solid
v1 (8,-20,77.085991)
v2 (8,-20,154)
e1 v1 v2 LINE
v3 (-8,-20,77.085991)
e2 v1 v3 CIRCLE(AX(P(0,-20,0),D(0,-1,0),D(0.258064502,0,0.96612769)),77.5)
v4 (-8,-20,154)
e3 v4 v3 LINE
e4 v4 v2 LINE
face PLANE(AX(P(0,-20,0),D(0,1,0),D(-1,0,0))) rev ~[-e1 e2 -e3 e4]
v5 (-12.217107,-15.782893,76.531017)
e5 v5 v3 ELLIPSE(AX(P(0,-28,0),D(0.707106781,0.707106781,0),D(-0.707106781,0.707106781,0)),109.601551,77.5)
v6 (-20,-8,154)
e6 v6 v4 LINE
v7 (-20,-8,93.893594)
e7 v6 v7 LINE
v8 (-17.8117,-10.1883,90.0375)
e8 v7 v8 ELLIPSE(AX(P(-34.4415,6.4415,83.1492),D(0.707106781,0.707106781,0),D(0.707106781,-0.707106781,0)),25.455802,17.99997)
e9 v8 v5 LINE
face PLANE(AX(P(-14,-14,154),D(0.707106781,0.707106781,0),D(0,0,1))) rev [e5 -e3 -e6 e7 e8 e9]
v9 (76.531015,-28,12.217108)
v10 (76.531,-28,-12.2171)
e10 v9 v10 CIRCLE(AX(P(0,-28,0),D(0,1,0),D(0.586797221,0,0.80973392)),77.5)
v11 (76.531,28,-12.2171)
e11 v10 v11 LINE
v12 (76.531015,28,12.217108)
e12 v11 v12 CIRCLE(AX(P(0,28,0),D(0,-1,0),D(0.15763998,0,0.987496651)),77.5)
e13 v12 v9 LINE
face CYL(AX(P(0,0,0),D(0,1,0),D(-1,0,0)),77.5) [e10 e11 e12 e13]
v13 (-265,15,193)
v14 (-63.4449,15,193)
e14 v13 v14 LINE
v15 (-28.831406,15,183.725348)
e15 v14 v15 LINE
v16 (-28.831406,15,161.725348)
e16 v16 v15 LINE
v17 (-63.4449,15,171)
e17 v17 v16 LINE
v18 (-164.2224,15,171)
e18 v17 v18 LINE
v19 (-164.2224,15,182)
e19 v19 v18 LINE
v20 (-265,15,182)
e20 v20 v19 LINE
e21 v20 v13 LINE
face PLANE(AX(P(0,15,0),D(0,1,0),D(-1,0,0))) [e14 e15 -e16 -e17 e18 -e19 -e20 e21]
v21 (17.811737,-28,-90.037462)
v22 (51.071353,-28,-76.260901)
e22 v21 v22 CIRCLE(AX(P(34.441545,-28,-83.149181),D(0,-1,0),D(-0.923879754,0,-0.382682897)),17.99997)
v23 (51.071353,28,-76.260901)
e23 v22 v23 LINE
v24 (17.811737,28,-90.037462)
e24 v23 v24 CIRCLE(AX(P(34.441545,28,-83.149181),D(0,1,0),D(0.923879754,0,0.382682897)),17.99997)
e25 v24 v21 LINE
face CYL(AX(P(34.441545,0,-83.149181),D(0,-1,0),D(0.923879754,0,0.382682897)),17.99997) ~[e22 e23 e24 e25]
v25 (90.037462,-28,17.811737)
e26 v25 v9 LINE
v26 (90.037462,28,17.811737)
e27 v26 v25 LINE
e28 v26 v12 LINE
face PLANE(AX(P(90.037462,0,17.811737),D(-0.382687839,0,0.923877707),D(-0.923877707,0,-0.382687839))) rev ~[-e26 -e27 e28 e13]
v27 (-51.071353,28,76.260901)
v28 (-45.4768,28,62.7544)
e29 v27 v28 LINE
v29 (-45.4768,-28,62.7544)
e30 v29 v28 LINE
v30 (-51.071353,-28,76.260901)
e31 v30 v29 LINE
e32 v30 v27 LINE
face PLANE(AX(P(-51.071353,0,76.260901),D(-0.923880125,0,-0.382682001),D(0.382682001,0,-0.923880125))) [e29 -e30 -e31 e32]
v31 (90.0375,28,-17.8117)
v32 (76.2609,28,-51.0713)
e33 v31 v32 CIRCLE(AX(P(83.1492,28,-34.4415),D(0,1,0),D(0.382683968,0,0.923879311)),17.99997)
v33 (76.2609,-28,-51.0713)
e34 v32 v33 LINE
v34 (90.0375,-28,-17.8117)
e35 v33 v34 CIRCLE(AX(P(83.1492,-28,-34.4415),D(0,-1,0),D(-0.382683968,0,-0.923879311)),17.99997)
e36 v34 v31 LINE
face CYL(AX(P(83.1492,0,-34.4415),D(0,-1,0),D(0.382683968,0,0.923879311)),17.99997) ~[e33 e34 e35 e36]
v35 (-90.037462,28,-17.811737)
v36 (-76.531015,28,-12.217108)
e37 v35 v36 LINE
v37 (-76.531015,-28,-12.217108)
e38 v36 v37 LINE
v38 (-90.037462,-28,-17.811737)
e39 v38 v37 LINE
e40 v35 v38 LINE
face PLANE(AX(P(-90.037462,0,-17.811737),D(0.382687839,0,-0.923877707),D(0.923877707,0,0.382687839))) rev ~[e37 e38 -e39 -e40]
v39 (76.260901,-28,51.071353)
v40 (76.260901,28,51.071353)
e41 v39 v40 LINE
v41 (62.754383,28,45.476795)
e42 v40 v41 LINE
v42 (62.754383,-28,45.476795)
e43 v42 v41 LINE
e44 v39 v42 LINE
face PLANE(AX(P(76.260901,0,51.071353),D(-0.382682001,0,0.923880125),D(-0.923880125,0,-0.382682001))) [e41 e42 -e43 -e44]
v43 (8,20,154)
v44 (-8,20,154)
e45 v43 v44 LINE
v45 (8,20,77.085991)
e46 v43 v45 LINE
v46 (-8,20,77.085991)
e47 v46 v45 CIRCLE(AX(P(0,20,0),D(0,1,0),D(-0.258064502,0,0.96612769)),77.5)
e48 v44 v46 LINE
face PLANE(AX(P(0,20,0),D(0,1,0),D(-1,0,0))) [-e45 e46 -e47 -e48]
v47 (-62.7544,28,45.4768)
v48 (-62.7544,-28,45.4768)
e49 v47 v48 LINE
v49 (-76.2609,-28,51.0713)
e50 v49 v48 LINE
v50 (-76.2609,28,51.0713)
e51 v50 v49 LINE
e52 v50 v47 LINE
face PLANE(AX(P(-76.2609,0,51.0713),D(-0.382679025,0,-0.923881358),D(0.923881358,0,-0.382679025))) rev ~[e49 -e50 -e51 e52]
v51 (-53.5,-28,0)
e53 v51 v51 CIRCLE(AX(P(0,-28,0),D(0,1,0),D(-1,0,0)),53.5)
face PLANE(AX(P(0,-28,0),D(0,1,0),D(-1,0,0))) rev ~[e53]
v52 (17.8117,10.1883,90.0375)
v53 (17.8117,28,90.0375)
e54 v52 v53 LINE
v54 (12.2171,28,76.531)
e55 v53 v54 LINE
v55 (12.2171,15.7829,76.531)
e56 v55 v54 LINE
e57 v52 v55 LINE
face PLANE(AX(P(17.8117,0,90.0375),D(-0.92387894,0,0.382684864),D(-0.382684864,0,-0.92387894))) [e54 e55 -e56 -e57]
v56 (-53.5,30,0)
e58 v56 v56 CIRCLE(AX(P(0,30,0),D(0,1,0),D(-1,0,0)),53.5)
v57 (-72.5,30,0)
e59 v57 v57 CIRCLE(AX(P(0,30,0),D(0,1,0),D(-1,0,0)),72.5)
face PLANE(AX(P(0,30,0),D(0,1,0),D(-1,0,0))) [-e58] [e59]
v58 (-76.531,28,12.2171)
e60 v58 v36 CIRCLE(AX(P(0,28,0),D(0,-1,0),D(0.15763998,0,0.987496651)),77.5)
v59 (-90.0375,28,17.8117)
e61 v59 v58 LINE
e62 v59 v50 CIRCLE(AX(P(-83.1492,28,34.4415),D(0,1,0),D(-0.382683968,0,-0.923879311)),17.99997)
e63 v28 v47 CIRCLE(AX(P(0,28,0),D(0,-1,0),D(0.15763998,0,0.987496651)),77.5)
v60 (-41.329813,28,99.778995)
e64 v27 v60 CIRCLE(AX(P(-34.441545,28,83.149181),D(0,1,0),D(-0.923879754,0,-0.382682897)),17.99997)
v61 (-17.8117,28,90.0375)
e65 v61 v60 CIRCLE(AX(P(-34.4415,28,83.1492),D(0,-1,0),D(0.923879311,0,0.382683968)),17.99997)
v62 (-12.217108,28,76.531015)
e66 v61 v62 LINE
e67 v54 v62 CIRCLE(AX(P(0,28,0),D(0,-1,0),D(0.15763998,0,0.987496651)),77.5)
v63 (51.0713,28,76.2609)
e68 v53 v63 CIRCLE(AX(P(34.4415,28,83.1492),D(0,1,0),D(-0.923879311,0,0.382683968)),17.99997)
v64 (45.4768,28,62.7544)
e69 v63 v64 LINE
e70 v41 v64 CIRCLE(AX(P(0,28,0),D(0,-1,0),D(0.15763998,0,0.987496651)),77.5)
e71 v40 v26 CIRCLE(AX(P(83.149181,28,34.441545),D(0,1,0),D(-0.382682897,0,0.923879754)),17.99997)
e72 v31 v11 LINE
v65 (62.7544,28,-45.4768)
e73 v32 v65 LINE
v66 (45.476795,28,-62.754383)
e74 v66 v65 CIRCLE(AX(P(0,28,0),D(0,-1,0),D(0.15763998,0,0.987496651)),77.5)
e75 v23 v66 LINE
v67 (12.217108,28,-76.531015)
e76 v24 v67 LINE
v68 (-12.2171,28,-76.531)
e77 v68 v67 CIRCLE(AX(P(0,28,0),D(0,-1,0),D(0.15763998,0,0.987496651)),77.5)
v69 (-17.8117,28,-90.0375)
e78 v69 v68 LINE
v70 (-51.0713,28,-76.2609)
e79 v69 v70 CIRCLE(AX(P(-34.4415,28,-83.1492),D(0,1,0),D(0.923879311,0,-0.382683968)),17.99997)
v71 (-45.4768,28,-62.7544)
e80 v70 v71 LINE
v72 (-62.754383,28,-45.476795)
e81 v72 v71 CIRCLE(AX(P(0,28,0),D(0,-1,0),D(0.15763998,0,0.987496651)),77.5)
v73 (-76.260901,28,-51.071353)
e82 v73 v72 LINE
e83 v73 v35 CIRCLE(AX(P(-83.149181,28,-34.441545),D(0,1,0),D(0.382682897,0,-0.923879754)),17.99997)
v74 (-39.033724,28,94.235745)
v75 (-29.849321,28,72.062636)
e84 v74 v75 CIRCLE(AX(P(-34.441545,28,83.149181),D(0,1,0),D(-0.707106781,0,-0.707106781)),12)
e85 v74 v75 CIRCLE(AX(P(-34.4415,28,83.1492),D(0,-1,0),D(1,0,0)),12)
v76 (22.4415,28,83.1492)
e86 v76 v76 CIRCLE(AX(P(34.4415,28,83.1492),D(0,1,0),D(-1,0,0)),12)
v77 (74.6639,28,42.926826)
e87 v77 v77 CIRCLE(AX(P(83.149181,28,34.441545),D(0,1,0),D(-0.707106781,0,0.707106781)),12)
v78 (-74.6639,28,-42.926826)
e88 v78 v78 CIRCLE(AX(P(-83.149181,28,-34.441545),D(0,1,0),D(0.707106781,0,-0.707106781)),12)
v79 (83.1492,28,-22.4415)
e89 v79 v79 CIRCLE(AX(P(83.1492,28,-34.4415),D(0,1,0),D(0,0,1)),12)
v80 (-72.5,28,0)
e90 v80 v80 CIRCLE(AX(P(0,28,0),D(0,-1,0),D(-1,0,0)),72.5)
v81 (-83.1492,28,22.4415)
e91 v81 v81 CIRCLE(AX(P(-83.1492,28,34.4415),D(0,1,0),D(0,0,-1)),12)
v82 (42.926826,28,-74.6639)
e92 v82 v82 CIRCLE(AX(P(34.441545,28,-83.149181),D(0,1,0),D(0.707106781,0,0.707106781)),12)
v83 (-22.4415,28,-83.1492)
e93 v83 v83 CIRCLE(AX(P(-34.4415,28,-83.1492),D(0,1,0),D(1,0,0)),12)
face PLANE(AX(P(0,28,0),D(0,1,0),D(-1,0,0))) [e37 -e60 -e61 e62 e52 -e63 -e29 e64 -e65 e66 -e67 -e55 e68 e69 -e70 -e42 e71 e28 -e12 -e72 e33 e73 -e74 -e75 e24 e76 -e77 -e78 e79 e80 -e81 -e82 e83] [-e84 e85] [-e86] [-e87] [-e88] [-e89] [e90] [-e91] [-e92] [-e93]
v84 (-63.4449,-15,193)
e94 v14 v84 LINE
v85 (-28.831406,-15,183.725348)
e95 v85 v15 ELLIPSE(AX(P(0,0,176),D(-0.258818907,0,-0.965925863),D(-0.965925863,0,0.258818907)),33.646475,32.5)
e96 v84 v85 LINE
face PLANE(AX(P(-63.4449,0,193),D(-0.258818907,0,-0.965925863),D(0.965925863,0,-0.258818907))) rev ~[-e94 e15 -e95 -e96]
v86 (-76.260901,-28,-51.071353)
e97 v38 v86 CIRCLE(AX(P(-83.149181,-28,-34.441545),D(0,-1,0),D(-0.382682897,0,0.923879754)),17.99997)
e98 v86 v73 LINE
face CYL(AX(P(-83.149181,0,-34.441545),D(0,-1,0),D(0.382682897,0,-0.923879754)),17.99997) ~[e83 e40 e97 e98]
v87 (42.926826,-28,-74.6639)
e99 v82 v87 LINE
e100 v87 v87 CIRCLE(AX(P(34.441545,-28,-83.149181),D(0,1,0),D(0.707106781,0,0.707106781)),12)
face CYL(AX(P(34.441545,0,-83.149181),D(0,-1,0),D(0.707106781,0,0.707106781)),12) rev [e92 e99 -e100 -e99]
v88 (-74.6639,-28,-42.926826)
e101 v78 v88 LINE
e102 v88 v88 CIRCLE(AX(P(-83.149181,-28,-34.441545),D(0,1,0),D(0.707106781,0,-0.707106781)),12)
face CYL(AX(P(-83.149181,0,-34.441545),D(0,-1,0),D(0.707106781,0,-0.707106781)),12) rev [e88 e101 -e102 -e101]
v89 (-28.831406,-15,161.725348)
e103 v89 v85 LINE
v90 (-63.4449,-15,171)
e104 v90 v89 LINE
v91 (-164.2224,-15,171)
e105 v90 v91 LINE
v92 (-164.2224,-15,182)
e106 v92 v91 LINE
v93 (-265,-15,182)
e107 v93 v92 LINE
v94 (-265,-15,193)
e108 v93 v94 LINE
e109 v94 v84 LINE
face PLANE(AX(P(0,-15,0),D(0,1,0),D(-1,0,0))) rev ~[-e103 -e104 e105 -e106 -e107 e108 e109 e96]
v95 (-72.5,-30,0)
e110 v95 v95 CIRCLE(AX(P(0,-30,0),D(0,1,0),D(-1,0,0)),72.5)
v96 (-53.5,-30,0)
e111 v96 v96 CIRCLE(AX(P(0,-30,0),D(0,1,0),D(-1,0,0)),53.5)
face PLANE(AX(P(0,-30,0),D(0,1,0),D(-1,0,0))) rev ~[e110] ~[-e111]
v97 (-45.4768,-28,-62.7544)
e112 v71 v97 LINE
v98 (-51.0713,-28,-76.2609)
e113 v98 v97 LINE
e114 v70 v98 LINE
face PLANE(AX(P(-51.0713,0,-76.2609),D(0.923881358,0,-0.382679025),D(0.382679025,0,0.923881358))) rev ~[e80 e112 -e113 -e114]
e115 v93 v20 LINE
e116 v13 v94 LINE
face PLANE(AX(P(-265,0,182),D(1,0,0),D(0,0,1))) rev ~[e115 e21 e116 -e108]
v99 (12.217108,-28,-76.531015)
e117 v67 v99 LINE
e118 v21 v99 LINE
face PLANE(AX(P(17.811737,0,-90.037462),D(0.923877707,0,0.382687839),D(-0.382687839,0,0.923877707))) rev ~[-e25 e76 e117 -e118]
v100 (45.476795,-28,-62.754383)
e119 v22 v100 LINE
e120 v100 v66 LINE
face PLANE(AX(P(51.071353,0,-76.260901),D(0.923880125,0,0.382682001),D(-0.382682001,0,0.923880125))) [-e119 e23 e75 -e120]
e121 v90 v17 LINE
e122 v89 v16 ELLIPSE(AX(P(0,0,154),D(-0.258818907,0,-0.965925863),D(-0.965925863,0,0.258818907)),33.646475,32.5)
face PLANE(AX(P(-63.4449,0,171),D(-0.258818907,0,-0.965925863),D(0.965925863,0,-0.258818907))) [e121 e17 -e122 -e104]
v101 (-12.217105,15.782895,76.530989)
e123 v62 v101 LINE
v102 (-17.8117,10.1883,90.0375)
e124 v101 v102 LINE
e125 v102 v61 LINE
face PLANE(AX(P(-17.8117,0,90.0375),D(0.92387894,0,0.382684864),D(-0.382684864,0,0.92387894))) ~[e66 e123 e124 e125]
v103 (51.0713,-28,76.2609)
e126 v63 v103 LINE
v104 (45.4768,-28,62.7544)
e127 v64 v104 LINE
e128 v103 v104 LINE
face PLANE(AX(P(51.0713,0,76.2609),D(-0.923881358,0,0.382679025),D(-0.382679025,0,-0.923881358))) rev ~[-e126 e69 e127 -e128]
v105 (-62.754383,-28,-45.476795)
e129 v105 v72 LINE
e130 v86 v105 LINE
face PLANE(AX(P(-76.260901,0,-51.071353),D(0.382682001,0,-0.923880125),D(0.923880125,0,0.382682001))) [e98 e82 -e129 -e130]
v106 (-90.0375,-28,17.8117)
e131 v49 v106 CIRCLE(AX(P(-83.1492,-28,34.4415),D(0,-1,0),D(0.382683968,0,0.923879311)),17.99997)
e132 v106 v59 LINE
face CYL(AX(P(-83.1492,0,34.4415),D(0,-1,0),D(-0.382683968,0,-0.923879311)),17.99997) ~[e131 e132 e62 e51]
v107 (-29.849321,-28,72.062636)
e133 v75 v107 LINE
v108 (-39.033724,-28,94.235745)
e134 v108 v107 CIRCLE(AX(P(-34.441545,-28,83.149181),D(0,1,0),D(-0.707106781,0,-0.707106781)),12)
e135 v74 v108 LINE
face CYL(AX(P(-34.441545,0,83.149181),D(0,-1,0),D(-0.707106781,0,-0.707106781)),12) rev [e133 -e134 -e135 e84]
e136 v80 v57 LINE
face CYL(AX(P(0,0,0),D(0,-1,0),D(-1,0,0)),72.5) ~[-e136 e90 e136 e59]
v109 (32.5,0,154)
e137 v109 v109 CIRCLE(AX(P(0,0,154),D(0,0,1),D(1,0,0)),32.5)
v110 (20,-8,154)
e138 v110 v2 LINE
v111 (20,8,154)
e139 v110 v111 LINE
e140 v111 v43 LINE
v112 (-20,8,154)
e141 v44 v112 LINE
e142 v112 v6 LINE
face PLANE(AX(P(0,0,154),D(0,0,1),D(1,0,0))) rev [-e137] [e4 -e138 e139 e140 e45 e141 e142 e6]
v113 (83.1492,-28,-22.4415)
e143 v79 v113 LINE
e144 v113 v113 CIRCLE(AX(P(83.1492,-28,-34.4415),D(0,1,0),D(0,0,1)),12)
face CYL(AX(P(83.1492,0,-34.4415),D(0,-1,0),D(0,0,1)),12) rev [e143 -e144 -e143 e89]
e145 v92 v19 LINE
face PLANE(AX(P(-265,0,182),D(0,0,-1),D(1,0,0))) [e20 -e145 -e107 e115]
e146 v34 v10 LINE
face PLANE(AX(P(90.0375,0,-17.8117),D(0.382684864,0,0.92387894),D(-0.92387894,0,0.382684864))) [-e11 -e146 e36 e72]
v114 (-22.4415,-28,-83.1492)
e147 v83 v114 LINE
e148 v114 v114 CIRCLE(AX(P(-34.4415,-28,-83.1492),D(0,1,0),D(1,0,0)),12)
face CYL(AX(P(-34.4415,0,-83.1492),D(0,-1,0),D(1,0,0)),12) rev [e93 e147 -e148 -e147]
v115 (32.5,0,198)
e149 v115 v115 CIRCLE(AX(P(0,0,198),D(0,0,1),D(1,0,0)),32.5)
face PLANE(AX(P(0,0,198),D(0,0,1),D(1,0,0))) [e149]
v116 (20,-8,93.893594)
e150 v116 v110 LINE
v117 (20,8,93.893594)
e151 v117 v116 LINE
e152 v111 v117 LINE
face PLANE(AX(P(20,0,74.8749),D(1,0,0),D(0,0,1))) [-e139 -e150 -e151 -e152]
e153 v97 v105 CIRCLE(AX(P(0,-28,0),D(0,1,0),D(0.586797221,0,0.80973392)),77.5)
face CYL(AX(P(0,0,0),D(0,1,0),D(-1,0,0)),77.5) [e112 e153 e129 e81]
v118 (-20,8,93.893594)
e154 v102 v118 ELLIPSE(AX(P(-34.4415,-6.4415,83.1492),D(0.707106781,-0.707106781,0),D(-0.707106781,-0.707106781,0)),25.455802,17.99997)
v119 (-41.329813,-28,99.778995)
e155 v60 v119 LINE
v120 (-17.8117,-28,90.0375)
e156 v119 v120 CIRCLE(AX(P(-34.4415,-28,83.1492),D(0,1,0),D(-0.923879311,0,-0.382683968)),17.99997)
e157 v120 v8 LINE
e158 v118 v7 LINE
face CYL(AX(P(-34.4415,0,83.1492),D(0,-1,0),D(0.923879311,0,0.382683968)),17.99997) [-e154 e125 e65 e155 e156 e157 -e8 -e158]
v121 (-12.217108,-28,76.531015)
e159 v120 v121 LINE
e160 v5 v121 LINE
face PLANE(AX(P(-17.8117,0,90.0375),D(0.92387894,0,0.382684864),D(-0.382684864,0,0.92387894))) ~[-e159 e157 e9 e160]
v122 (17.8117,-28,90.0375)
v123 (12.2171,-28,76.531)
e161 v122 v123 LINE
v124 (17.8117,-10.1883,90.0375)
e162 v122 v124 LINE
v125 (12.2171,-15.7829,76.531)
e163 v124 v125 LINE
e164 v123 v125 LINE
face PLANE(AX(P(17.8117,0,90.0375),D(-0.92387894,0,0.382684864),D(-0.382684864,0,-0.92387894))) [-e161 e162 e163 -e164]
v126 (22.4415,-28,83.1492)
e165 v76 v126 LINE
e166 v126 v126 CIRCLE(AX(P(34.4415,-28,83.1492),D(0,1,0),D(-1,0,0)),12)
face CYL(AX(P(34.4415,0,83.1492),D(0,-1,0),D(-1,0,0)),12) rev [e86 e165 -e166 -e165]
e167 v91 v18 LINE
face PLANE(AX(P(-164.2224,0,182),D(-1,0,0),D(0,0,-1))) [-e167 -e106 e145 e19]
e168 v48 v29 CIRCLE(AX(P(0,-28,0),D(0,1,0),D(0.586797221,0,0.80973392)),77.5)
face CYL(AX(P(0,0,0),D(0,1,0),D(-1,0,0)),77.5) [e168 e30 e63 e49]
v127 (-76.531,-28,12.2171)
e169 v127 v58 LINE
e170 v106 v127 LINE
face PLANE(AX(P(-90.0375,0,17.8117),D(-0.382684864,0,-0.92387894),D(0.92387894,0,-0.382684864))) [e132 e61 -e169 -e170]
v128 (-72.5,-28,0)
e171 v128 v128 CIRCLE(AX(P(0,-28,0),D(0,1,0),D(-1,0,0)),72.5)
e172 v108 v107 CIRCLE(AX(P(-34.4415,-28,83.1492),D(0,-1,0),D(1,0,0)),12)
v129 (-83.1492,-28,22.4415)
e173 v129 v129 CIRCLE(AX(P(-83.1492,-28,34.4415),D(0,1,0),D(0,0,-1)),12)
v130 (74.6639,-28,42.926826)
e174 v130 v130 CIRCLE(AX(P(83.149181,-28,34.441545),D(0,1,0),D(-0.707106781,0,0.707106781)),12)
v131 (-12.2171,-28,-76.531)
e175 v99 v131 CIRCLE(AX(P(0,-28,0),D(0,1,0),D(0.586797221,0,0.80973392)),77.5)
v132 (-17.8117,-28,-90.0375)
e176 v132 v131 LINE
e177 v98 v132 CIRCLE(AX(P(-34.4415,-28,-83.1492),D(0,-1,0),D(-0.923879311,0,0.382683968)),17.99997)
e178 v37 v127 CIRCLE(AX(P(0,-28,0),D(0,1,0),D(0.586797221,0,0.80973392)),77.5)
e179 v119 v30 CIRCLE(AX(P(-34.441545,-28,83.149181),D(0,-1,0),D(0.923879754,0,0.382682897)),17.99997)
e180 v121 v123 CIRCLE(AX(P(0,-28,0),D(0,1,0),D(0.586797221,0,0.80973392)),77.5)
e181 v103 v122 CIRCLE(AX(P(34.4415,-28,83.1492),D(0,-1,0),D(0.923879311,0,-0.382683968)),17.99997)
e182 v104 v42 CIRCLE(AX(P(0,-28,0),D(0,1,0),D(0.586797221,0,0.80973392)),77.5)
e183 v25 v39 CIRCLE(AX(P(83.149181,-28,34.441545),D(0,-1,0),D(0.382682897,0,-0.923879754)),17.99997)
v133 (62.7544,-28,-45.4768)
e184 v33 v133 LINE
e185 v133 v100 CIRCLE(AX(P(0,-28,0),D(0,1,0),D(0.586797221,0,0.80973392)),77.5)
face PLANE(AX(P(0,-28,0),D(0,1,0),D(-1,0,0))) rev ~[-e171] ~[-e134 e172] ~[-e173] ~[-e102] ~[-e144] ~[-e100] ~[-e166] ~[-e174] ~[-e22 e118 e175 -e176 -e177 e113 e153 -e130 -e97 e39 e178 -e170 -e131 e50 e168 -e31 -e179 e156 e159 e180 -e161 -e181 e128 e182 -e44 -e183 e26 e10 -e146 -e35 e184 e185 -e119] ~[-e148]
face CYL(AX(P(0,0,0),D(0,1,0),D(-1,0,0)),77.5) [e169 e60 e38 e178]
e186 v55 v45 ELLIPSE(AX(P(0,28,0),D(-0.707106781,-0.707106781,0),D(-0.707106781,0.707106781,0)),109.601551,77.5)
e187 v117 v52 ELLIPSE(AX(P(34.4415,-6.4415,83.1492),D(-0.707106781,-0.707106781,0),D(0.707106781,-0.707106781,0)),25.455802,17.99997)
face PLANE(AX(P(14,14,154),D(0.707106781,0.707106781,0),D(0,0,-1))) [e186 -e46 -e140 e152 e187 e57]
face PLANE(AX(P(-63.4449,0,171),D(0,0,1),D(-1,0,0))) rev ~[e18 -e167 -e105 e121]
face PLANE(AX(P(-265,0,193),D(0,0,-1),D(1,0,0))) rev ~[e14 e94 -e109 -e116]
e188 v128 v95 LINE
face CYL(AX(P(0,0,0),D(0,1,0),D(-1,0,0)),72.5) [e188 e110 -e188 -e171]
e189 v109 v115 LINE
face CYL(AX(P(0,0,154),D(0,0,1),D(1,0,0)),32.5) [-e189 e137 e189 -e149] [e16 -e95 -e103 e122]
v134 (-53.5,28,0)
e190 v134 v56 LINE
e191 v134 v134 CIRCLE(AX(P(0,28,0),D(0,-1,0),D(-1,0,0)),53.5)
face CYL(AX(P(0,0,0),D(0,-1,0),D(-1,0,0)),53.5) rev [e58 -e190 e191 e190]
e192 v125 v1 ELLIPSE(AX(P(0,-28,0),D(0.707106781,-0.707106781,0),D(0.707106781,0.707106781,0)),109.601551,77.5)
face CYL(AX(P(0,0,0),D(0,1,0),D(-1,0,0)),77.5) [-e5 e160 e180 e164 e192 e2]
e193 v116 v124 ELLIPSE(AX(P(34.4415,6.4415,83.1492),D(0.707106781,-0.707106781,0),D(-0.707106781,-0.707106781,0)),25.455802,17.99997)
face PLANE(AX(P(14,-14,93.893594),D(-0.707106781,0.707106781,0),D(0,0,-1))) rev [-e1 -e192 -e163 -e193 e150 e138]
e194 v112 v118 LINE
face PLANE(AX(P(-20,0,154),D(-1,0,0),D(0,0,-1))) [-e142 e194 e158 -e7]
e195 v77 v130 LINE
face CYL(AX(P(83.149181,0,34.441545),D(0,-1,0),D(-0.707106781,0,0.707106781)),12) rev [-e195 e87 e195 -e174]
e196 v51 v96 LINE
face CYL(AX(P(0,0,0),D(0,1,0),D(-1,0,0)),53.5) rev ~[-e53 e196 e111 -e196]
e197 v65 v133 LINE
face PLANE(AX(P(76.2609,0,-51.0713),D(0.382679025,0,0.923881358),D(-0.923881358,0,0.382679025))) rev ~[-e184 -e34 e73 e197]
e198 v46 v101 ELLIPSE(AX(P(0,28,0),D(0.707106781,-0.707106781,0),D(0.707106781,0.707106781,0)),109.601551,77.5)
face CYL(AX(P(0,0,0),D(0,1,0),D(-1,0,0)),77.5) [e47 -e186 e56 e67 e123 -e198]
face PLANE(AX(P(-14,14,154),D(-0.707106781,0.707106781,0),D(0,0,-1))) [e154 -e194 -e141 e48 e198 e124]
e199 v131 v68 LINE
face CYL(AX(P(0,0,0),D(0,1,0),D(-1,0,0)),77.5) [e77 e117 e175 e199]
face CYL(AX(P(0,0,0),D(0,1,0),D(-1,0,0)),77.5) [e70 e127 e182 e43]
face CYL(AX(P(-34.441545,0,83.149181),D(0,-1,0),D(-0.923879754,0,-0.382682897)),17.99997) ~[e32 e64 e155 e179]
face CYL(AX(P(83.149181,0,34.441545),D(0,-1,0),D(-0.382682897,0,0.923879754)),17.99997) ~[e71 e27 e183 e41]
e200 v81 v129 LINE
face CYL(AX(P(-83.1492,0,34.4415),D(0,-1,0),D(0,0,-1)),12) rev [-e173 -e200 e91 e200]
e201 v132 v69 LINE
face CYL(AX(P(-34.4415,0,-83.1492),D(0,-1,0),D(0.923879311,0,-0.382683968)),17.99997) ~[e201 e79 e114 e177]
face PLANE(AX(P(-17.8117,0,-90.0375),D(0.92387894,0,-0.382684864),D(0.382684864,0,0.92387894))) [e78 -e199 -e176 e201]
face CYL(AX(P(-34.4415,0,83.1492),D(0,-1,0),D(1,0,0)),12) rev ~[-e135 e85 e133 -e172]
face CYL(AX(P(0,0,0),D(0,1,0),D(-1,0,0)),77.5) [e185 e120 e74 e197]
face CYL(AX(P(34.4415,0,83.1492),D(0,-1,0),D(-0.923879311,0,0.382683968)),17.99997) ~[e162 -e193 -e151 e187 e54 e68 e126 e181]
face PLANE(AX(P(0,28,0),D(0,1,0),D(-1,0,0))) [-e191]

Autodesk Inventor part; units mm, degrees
ref_plane "YZ Plane" through (0, 0, 0) normal (1, 0, 0) x (0, 1, 0)
ref_plane "XZ Plane" through (0, 0, 0) normal (0, 1, 0) x (-1, 0, 0)
ref_plane "XY Plane" through (0, 0, 0) normal (0, 0, 1) x (1, 0, 0)
sketch "Sketch1" plane through (0, 0, 0) normal (0, 1, 0) x (-1, 0, 0)
  circle A0 centre (0, 0) radius 72.5
  circle A1 centre (0, 0) radius 77.5
  circle A2 centre (0, 0) radius 53.5
  circle A3 centre (0, 0) radius 90 construction
  line L0 (0, 0) -> (-34.4415, 83.1492) construction
  circle A4 centre (-34.4415, 83.1492) radius 12
  line L1 (0, 154) -> (-32.5, 154)
  line L2 (-32.5, 154) -> (-32.5, 198)
  line L3 (-32.5, 198) -> (0, 198)
  line L4 (0, 198) -> (0, 154)
  line L5 (0, 140.825) -> (0, 198)
  line L6 (20, 74.8749) -> (-20, 74.8749)
  line L7 (-20, 74.8749) -> (-20, 154)
  line L8 (-20, 154) -> (20, 154)
  line L9 (20, 154) -> (20, 74.8749)
  line L10 (0, 0) -> (0, 198)
  line L11 (265, 193) -> (63.4449, 193)
  line L12 (63.4449, 193) -> (63.4449, 171)
  line L13 (63.4449, 171) -> (265, 171)
  line L14 (265, 171) -> (265, 193)
  line L15 (63.4449, 193) -> (0, 176)
  line L16 (63.4449, 171) -> (0, 154)
  line L17 (0, 154) -> (0, 176)
  arc A5 (-17.8117, 90.0375) -> (-51.0713, 76.2609) centre (-34.4415, 83.1492) ccw
  line L18 (-51.0713, 76.2609) -> (-45.4768, 62.7544)
  line L19 (-20, 74.8749) -> (-20, 106.132)
  line L20 (3.012, 3.8335) -> (-33.2222, -83.6438) construction
  line L21 (265, 182) -> (164.2224, 182)
  line L22 (164.2224, 182) -> (164.2224, 171)
  line L23 (164.2224, 171) -> (265, 171)
  line L24 (265, 171) -> (265, 182)
  line L25 (-17.8117, 90.0375) -> (-12.2171, 76.531)
  line L26 (-45.4768, 62.7544) -> (-12.2171, 76.531)
  point P0 (-41.2493, -65.6106)
  point P1 (-7.6728, -77.1192)
  dimension "oDiaGasket" = 145
  dimension "oDiaOutside" = 155
  dimension "oDiaInside" = 107
  dimension "oHoledia" = 24
  dimension "oStemThick" = 40
  dimension "oAngleFirstBolt" = 22.5
  dimension "oKcircle" = 180
  dimension "oDiaTop" = 65
  dimension "oHeightTop" = 44
  dimension "oHandleLenght" = 265
  dimension "d10" = 5
  dimension "d11" = 15
  dimension "d13" = 6
  dimension "oCenterTop" = 198
  dimension "d32" = 22.5
sketch "Sketch2" plane through (0, 0, 0) normal (0, 1, 0) x (-1, 0, 0)
  circle A0 centre (0, 0) radius 77.5
  circle A1 centre (0, 0) radius 53.5
  circle A2 centre (0, 0) radius 72.5
  circle A3 centre (0, 0) radius 53.5 projected
  circle A4 centre (0, 0) radius 72.5 projected
  circle A5 centre (0, 0) radius 77.5 projected
extrude "Extrusion4" add sketch "Sketch2" along normal mid plane 56 contours A0 | A2
extrude "Extrusion5" add sketch "Sketch2" along normal mid plane 60 contours A2
extrude "Extrusion8" add sketch "Sketch1" along normal mid plane 56 contours A2 | L26 A1 L6 | L6 A1 L26 | L7 A5 L25 A1 | A1 L18 A5 L7 picked at (-33.064, 68.4842) picked at (-14.4207, 75.8246)
pattern_circular "Circular Pattern2" count 8 over 360 about axis through (0, 0, 0) along (0, 1, 0) of "Extrusion8"
extrude "Extrusion6" add sketch "Sketch1" along normal mid plane 40 contours A1 L10 L5 L8 L9 | A1 L25 A5 L7 L1 L5 L10 | L7 A5 L25 A1
revolve "Revolution1" add sketch "Sketch1" angle 360 about axis through (0, 0, 0) along (0, 0, 1) contours L1 L2 L3 L4
mirror "Mirror1" about plane through (0, 0, 0) normal (1, 0, 0) of "Extrusion8"
extrude "Extrusion9" add sketch "Sketch1" along normal mid plane 30 contours L4 L15 L12 L16 | L12 L11 L14 L21 L22 L13
chamfer "Chamfer1" distance 12 angle 45 4 edges at (-20, 20, 123.9468) (20, 20, 123.9468) (-20, -20, 123.9468) (20, -20, 123.9468)
equation "\"d32\" = oAngleFirstBolt"
equation "\"d25\" = oStemThick"
properties part number "BUTTERFLY VALVE MANUAL LUG TYPE DN100" material "GG25"
